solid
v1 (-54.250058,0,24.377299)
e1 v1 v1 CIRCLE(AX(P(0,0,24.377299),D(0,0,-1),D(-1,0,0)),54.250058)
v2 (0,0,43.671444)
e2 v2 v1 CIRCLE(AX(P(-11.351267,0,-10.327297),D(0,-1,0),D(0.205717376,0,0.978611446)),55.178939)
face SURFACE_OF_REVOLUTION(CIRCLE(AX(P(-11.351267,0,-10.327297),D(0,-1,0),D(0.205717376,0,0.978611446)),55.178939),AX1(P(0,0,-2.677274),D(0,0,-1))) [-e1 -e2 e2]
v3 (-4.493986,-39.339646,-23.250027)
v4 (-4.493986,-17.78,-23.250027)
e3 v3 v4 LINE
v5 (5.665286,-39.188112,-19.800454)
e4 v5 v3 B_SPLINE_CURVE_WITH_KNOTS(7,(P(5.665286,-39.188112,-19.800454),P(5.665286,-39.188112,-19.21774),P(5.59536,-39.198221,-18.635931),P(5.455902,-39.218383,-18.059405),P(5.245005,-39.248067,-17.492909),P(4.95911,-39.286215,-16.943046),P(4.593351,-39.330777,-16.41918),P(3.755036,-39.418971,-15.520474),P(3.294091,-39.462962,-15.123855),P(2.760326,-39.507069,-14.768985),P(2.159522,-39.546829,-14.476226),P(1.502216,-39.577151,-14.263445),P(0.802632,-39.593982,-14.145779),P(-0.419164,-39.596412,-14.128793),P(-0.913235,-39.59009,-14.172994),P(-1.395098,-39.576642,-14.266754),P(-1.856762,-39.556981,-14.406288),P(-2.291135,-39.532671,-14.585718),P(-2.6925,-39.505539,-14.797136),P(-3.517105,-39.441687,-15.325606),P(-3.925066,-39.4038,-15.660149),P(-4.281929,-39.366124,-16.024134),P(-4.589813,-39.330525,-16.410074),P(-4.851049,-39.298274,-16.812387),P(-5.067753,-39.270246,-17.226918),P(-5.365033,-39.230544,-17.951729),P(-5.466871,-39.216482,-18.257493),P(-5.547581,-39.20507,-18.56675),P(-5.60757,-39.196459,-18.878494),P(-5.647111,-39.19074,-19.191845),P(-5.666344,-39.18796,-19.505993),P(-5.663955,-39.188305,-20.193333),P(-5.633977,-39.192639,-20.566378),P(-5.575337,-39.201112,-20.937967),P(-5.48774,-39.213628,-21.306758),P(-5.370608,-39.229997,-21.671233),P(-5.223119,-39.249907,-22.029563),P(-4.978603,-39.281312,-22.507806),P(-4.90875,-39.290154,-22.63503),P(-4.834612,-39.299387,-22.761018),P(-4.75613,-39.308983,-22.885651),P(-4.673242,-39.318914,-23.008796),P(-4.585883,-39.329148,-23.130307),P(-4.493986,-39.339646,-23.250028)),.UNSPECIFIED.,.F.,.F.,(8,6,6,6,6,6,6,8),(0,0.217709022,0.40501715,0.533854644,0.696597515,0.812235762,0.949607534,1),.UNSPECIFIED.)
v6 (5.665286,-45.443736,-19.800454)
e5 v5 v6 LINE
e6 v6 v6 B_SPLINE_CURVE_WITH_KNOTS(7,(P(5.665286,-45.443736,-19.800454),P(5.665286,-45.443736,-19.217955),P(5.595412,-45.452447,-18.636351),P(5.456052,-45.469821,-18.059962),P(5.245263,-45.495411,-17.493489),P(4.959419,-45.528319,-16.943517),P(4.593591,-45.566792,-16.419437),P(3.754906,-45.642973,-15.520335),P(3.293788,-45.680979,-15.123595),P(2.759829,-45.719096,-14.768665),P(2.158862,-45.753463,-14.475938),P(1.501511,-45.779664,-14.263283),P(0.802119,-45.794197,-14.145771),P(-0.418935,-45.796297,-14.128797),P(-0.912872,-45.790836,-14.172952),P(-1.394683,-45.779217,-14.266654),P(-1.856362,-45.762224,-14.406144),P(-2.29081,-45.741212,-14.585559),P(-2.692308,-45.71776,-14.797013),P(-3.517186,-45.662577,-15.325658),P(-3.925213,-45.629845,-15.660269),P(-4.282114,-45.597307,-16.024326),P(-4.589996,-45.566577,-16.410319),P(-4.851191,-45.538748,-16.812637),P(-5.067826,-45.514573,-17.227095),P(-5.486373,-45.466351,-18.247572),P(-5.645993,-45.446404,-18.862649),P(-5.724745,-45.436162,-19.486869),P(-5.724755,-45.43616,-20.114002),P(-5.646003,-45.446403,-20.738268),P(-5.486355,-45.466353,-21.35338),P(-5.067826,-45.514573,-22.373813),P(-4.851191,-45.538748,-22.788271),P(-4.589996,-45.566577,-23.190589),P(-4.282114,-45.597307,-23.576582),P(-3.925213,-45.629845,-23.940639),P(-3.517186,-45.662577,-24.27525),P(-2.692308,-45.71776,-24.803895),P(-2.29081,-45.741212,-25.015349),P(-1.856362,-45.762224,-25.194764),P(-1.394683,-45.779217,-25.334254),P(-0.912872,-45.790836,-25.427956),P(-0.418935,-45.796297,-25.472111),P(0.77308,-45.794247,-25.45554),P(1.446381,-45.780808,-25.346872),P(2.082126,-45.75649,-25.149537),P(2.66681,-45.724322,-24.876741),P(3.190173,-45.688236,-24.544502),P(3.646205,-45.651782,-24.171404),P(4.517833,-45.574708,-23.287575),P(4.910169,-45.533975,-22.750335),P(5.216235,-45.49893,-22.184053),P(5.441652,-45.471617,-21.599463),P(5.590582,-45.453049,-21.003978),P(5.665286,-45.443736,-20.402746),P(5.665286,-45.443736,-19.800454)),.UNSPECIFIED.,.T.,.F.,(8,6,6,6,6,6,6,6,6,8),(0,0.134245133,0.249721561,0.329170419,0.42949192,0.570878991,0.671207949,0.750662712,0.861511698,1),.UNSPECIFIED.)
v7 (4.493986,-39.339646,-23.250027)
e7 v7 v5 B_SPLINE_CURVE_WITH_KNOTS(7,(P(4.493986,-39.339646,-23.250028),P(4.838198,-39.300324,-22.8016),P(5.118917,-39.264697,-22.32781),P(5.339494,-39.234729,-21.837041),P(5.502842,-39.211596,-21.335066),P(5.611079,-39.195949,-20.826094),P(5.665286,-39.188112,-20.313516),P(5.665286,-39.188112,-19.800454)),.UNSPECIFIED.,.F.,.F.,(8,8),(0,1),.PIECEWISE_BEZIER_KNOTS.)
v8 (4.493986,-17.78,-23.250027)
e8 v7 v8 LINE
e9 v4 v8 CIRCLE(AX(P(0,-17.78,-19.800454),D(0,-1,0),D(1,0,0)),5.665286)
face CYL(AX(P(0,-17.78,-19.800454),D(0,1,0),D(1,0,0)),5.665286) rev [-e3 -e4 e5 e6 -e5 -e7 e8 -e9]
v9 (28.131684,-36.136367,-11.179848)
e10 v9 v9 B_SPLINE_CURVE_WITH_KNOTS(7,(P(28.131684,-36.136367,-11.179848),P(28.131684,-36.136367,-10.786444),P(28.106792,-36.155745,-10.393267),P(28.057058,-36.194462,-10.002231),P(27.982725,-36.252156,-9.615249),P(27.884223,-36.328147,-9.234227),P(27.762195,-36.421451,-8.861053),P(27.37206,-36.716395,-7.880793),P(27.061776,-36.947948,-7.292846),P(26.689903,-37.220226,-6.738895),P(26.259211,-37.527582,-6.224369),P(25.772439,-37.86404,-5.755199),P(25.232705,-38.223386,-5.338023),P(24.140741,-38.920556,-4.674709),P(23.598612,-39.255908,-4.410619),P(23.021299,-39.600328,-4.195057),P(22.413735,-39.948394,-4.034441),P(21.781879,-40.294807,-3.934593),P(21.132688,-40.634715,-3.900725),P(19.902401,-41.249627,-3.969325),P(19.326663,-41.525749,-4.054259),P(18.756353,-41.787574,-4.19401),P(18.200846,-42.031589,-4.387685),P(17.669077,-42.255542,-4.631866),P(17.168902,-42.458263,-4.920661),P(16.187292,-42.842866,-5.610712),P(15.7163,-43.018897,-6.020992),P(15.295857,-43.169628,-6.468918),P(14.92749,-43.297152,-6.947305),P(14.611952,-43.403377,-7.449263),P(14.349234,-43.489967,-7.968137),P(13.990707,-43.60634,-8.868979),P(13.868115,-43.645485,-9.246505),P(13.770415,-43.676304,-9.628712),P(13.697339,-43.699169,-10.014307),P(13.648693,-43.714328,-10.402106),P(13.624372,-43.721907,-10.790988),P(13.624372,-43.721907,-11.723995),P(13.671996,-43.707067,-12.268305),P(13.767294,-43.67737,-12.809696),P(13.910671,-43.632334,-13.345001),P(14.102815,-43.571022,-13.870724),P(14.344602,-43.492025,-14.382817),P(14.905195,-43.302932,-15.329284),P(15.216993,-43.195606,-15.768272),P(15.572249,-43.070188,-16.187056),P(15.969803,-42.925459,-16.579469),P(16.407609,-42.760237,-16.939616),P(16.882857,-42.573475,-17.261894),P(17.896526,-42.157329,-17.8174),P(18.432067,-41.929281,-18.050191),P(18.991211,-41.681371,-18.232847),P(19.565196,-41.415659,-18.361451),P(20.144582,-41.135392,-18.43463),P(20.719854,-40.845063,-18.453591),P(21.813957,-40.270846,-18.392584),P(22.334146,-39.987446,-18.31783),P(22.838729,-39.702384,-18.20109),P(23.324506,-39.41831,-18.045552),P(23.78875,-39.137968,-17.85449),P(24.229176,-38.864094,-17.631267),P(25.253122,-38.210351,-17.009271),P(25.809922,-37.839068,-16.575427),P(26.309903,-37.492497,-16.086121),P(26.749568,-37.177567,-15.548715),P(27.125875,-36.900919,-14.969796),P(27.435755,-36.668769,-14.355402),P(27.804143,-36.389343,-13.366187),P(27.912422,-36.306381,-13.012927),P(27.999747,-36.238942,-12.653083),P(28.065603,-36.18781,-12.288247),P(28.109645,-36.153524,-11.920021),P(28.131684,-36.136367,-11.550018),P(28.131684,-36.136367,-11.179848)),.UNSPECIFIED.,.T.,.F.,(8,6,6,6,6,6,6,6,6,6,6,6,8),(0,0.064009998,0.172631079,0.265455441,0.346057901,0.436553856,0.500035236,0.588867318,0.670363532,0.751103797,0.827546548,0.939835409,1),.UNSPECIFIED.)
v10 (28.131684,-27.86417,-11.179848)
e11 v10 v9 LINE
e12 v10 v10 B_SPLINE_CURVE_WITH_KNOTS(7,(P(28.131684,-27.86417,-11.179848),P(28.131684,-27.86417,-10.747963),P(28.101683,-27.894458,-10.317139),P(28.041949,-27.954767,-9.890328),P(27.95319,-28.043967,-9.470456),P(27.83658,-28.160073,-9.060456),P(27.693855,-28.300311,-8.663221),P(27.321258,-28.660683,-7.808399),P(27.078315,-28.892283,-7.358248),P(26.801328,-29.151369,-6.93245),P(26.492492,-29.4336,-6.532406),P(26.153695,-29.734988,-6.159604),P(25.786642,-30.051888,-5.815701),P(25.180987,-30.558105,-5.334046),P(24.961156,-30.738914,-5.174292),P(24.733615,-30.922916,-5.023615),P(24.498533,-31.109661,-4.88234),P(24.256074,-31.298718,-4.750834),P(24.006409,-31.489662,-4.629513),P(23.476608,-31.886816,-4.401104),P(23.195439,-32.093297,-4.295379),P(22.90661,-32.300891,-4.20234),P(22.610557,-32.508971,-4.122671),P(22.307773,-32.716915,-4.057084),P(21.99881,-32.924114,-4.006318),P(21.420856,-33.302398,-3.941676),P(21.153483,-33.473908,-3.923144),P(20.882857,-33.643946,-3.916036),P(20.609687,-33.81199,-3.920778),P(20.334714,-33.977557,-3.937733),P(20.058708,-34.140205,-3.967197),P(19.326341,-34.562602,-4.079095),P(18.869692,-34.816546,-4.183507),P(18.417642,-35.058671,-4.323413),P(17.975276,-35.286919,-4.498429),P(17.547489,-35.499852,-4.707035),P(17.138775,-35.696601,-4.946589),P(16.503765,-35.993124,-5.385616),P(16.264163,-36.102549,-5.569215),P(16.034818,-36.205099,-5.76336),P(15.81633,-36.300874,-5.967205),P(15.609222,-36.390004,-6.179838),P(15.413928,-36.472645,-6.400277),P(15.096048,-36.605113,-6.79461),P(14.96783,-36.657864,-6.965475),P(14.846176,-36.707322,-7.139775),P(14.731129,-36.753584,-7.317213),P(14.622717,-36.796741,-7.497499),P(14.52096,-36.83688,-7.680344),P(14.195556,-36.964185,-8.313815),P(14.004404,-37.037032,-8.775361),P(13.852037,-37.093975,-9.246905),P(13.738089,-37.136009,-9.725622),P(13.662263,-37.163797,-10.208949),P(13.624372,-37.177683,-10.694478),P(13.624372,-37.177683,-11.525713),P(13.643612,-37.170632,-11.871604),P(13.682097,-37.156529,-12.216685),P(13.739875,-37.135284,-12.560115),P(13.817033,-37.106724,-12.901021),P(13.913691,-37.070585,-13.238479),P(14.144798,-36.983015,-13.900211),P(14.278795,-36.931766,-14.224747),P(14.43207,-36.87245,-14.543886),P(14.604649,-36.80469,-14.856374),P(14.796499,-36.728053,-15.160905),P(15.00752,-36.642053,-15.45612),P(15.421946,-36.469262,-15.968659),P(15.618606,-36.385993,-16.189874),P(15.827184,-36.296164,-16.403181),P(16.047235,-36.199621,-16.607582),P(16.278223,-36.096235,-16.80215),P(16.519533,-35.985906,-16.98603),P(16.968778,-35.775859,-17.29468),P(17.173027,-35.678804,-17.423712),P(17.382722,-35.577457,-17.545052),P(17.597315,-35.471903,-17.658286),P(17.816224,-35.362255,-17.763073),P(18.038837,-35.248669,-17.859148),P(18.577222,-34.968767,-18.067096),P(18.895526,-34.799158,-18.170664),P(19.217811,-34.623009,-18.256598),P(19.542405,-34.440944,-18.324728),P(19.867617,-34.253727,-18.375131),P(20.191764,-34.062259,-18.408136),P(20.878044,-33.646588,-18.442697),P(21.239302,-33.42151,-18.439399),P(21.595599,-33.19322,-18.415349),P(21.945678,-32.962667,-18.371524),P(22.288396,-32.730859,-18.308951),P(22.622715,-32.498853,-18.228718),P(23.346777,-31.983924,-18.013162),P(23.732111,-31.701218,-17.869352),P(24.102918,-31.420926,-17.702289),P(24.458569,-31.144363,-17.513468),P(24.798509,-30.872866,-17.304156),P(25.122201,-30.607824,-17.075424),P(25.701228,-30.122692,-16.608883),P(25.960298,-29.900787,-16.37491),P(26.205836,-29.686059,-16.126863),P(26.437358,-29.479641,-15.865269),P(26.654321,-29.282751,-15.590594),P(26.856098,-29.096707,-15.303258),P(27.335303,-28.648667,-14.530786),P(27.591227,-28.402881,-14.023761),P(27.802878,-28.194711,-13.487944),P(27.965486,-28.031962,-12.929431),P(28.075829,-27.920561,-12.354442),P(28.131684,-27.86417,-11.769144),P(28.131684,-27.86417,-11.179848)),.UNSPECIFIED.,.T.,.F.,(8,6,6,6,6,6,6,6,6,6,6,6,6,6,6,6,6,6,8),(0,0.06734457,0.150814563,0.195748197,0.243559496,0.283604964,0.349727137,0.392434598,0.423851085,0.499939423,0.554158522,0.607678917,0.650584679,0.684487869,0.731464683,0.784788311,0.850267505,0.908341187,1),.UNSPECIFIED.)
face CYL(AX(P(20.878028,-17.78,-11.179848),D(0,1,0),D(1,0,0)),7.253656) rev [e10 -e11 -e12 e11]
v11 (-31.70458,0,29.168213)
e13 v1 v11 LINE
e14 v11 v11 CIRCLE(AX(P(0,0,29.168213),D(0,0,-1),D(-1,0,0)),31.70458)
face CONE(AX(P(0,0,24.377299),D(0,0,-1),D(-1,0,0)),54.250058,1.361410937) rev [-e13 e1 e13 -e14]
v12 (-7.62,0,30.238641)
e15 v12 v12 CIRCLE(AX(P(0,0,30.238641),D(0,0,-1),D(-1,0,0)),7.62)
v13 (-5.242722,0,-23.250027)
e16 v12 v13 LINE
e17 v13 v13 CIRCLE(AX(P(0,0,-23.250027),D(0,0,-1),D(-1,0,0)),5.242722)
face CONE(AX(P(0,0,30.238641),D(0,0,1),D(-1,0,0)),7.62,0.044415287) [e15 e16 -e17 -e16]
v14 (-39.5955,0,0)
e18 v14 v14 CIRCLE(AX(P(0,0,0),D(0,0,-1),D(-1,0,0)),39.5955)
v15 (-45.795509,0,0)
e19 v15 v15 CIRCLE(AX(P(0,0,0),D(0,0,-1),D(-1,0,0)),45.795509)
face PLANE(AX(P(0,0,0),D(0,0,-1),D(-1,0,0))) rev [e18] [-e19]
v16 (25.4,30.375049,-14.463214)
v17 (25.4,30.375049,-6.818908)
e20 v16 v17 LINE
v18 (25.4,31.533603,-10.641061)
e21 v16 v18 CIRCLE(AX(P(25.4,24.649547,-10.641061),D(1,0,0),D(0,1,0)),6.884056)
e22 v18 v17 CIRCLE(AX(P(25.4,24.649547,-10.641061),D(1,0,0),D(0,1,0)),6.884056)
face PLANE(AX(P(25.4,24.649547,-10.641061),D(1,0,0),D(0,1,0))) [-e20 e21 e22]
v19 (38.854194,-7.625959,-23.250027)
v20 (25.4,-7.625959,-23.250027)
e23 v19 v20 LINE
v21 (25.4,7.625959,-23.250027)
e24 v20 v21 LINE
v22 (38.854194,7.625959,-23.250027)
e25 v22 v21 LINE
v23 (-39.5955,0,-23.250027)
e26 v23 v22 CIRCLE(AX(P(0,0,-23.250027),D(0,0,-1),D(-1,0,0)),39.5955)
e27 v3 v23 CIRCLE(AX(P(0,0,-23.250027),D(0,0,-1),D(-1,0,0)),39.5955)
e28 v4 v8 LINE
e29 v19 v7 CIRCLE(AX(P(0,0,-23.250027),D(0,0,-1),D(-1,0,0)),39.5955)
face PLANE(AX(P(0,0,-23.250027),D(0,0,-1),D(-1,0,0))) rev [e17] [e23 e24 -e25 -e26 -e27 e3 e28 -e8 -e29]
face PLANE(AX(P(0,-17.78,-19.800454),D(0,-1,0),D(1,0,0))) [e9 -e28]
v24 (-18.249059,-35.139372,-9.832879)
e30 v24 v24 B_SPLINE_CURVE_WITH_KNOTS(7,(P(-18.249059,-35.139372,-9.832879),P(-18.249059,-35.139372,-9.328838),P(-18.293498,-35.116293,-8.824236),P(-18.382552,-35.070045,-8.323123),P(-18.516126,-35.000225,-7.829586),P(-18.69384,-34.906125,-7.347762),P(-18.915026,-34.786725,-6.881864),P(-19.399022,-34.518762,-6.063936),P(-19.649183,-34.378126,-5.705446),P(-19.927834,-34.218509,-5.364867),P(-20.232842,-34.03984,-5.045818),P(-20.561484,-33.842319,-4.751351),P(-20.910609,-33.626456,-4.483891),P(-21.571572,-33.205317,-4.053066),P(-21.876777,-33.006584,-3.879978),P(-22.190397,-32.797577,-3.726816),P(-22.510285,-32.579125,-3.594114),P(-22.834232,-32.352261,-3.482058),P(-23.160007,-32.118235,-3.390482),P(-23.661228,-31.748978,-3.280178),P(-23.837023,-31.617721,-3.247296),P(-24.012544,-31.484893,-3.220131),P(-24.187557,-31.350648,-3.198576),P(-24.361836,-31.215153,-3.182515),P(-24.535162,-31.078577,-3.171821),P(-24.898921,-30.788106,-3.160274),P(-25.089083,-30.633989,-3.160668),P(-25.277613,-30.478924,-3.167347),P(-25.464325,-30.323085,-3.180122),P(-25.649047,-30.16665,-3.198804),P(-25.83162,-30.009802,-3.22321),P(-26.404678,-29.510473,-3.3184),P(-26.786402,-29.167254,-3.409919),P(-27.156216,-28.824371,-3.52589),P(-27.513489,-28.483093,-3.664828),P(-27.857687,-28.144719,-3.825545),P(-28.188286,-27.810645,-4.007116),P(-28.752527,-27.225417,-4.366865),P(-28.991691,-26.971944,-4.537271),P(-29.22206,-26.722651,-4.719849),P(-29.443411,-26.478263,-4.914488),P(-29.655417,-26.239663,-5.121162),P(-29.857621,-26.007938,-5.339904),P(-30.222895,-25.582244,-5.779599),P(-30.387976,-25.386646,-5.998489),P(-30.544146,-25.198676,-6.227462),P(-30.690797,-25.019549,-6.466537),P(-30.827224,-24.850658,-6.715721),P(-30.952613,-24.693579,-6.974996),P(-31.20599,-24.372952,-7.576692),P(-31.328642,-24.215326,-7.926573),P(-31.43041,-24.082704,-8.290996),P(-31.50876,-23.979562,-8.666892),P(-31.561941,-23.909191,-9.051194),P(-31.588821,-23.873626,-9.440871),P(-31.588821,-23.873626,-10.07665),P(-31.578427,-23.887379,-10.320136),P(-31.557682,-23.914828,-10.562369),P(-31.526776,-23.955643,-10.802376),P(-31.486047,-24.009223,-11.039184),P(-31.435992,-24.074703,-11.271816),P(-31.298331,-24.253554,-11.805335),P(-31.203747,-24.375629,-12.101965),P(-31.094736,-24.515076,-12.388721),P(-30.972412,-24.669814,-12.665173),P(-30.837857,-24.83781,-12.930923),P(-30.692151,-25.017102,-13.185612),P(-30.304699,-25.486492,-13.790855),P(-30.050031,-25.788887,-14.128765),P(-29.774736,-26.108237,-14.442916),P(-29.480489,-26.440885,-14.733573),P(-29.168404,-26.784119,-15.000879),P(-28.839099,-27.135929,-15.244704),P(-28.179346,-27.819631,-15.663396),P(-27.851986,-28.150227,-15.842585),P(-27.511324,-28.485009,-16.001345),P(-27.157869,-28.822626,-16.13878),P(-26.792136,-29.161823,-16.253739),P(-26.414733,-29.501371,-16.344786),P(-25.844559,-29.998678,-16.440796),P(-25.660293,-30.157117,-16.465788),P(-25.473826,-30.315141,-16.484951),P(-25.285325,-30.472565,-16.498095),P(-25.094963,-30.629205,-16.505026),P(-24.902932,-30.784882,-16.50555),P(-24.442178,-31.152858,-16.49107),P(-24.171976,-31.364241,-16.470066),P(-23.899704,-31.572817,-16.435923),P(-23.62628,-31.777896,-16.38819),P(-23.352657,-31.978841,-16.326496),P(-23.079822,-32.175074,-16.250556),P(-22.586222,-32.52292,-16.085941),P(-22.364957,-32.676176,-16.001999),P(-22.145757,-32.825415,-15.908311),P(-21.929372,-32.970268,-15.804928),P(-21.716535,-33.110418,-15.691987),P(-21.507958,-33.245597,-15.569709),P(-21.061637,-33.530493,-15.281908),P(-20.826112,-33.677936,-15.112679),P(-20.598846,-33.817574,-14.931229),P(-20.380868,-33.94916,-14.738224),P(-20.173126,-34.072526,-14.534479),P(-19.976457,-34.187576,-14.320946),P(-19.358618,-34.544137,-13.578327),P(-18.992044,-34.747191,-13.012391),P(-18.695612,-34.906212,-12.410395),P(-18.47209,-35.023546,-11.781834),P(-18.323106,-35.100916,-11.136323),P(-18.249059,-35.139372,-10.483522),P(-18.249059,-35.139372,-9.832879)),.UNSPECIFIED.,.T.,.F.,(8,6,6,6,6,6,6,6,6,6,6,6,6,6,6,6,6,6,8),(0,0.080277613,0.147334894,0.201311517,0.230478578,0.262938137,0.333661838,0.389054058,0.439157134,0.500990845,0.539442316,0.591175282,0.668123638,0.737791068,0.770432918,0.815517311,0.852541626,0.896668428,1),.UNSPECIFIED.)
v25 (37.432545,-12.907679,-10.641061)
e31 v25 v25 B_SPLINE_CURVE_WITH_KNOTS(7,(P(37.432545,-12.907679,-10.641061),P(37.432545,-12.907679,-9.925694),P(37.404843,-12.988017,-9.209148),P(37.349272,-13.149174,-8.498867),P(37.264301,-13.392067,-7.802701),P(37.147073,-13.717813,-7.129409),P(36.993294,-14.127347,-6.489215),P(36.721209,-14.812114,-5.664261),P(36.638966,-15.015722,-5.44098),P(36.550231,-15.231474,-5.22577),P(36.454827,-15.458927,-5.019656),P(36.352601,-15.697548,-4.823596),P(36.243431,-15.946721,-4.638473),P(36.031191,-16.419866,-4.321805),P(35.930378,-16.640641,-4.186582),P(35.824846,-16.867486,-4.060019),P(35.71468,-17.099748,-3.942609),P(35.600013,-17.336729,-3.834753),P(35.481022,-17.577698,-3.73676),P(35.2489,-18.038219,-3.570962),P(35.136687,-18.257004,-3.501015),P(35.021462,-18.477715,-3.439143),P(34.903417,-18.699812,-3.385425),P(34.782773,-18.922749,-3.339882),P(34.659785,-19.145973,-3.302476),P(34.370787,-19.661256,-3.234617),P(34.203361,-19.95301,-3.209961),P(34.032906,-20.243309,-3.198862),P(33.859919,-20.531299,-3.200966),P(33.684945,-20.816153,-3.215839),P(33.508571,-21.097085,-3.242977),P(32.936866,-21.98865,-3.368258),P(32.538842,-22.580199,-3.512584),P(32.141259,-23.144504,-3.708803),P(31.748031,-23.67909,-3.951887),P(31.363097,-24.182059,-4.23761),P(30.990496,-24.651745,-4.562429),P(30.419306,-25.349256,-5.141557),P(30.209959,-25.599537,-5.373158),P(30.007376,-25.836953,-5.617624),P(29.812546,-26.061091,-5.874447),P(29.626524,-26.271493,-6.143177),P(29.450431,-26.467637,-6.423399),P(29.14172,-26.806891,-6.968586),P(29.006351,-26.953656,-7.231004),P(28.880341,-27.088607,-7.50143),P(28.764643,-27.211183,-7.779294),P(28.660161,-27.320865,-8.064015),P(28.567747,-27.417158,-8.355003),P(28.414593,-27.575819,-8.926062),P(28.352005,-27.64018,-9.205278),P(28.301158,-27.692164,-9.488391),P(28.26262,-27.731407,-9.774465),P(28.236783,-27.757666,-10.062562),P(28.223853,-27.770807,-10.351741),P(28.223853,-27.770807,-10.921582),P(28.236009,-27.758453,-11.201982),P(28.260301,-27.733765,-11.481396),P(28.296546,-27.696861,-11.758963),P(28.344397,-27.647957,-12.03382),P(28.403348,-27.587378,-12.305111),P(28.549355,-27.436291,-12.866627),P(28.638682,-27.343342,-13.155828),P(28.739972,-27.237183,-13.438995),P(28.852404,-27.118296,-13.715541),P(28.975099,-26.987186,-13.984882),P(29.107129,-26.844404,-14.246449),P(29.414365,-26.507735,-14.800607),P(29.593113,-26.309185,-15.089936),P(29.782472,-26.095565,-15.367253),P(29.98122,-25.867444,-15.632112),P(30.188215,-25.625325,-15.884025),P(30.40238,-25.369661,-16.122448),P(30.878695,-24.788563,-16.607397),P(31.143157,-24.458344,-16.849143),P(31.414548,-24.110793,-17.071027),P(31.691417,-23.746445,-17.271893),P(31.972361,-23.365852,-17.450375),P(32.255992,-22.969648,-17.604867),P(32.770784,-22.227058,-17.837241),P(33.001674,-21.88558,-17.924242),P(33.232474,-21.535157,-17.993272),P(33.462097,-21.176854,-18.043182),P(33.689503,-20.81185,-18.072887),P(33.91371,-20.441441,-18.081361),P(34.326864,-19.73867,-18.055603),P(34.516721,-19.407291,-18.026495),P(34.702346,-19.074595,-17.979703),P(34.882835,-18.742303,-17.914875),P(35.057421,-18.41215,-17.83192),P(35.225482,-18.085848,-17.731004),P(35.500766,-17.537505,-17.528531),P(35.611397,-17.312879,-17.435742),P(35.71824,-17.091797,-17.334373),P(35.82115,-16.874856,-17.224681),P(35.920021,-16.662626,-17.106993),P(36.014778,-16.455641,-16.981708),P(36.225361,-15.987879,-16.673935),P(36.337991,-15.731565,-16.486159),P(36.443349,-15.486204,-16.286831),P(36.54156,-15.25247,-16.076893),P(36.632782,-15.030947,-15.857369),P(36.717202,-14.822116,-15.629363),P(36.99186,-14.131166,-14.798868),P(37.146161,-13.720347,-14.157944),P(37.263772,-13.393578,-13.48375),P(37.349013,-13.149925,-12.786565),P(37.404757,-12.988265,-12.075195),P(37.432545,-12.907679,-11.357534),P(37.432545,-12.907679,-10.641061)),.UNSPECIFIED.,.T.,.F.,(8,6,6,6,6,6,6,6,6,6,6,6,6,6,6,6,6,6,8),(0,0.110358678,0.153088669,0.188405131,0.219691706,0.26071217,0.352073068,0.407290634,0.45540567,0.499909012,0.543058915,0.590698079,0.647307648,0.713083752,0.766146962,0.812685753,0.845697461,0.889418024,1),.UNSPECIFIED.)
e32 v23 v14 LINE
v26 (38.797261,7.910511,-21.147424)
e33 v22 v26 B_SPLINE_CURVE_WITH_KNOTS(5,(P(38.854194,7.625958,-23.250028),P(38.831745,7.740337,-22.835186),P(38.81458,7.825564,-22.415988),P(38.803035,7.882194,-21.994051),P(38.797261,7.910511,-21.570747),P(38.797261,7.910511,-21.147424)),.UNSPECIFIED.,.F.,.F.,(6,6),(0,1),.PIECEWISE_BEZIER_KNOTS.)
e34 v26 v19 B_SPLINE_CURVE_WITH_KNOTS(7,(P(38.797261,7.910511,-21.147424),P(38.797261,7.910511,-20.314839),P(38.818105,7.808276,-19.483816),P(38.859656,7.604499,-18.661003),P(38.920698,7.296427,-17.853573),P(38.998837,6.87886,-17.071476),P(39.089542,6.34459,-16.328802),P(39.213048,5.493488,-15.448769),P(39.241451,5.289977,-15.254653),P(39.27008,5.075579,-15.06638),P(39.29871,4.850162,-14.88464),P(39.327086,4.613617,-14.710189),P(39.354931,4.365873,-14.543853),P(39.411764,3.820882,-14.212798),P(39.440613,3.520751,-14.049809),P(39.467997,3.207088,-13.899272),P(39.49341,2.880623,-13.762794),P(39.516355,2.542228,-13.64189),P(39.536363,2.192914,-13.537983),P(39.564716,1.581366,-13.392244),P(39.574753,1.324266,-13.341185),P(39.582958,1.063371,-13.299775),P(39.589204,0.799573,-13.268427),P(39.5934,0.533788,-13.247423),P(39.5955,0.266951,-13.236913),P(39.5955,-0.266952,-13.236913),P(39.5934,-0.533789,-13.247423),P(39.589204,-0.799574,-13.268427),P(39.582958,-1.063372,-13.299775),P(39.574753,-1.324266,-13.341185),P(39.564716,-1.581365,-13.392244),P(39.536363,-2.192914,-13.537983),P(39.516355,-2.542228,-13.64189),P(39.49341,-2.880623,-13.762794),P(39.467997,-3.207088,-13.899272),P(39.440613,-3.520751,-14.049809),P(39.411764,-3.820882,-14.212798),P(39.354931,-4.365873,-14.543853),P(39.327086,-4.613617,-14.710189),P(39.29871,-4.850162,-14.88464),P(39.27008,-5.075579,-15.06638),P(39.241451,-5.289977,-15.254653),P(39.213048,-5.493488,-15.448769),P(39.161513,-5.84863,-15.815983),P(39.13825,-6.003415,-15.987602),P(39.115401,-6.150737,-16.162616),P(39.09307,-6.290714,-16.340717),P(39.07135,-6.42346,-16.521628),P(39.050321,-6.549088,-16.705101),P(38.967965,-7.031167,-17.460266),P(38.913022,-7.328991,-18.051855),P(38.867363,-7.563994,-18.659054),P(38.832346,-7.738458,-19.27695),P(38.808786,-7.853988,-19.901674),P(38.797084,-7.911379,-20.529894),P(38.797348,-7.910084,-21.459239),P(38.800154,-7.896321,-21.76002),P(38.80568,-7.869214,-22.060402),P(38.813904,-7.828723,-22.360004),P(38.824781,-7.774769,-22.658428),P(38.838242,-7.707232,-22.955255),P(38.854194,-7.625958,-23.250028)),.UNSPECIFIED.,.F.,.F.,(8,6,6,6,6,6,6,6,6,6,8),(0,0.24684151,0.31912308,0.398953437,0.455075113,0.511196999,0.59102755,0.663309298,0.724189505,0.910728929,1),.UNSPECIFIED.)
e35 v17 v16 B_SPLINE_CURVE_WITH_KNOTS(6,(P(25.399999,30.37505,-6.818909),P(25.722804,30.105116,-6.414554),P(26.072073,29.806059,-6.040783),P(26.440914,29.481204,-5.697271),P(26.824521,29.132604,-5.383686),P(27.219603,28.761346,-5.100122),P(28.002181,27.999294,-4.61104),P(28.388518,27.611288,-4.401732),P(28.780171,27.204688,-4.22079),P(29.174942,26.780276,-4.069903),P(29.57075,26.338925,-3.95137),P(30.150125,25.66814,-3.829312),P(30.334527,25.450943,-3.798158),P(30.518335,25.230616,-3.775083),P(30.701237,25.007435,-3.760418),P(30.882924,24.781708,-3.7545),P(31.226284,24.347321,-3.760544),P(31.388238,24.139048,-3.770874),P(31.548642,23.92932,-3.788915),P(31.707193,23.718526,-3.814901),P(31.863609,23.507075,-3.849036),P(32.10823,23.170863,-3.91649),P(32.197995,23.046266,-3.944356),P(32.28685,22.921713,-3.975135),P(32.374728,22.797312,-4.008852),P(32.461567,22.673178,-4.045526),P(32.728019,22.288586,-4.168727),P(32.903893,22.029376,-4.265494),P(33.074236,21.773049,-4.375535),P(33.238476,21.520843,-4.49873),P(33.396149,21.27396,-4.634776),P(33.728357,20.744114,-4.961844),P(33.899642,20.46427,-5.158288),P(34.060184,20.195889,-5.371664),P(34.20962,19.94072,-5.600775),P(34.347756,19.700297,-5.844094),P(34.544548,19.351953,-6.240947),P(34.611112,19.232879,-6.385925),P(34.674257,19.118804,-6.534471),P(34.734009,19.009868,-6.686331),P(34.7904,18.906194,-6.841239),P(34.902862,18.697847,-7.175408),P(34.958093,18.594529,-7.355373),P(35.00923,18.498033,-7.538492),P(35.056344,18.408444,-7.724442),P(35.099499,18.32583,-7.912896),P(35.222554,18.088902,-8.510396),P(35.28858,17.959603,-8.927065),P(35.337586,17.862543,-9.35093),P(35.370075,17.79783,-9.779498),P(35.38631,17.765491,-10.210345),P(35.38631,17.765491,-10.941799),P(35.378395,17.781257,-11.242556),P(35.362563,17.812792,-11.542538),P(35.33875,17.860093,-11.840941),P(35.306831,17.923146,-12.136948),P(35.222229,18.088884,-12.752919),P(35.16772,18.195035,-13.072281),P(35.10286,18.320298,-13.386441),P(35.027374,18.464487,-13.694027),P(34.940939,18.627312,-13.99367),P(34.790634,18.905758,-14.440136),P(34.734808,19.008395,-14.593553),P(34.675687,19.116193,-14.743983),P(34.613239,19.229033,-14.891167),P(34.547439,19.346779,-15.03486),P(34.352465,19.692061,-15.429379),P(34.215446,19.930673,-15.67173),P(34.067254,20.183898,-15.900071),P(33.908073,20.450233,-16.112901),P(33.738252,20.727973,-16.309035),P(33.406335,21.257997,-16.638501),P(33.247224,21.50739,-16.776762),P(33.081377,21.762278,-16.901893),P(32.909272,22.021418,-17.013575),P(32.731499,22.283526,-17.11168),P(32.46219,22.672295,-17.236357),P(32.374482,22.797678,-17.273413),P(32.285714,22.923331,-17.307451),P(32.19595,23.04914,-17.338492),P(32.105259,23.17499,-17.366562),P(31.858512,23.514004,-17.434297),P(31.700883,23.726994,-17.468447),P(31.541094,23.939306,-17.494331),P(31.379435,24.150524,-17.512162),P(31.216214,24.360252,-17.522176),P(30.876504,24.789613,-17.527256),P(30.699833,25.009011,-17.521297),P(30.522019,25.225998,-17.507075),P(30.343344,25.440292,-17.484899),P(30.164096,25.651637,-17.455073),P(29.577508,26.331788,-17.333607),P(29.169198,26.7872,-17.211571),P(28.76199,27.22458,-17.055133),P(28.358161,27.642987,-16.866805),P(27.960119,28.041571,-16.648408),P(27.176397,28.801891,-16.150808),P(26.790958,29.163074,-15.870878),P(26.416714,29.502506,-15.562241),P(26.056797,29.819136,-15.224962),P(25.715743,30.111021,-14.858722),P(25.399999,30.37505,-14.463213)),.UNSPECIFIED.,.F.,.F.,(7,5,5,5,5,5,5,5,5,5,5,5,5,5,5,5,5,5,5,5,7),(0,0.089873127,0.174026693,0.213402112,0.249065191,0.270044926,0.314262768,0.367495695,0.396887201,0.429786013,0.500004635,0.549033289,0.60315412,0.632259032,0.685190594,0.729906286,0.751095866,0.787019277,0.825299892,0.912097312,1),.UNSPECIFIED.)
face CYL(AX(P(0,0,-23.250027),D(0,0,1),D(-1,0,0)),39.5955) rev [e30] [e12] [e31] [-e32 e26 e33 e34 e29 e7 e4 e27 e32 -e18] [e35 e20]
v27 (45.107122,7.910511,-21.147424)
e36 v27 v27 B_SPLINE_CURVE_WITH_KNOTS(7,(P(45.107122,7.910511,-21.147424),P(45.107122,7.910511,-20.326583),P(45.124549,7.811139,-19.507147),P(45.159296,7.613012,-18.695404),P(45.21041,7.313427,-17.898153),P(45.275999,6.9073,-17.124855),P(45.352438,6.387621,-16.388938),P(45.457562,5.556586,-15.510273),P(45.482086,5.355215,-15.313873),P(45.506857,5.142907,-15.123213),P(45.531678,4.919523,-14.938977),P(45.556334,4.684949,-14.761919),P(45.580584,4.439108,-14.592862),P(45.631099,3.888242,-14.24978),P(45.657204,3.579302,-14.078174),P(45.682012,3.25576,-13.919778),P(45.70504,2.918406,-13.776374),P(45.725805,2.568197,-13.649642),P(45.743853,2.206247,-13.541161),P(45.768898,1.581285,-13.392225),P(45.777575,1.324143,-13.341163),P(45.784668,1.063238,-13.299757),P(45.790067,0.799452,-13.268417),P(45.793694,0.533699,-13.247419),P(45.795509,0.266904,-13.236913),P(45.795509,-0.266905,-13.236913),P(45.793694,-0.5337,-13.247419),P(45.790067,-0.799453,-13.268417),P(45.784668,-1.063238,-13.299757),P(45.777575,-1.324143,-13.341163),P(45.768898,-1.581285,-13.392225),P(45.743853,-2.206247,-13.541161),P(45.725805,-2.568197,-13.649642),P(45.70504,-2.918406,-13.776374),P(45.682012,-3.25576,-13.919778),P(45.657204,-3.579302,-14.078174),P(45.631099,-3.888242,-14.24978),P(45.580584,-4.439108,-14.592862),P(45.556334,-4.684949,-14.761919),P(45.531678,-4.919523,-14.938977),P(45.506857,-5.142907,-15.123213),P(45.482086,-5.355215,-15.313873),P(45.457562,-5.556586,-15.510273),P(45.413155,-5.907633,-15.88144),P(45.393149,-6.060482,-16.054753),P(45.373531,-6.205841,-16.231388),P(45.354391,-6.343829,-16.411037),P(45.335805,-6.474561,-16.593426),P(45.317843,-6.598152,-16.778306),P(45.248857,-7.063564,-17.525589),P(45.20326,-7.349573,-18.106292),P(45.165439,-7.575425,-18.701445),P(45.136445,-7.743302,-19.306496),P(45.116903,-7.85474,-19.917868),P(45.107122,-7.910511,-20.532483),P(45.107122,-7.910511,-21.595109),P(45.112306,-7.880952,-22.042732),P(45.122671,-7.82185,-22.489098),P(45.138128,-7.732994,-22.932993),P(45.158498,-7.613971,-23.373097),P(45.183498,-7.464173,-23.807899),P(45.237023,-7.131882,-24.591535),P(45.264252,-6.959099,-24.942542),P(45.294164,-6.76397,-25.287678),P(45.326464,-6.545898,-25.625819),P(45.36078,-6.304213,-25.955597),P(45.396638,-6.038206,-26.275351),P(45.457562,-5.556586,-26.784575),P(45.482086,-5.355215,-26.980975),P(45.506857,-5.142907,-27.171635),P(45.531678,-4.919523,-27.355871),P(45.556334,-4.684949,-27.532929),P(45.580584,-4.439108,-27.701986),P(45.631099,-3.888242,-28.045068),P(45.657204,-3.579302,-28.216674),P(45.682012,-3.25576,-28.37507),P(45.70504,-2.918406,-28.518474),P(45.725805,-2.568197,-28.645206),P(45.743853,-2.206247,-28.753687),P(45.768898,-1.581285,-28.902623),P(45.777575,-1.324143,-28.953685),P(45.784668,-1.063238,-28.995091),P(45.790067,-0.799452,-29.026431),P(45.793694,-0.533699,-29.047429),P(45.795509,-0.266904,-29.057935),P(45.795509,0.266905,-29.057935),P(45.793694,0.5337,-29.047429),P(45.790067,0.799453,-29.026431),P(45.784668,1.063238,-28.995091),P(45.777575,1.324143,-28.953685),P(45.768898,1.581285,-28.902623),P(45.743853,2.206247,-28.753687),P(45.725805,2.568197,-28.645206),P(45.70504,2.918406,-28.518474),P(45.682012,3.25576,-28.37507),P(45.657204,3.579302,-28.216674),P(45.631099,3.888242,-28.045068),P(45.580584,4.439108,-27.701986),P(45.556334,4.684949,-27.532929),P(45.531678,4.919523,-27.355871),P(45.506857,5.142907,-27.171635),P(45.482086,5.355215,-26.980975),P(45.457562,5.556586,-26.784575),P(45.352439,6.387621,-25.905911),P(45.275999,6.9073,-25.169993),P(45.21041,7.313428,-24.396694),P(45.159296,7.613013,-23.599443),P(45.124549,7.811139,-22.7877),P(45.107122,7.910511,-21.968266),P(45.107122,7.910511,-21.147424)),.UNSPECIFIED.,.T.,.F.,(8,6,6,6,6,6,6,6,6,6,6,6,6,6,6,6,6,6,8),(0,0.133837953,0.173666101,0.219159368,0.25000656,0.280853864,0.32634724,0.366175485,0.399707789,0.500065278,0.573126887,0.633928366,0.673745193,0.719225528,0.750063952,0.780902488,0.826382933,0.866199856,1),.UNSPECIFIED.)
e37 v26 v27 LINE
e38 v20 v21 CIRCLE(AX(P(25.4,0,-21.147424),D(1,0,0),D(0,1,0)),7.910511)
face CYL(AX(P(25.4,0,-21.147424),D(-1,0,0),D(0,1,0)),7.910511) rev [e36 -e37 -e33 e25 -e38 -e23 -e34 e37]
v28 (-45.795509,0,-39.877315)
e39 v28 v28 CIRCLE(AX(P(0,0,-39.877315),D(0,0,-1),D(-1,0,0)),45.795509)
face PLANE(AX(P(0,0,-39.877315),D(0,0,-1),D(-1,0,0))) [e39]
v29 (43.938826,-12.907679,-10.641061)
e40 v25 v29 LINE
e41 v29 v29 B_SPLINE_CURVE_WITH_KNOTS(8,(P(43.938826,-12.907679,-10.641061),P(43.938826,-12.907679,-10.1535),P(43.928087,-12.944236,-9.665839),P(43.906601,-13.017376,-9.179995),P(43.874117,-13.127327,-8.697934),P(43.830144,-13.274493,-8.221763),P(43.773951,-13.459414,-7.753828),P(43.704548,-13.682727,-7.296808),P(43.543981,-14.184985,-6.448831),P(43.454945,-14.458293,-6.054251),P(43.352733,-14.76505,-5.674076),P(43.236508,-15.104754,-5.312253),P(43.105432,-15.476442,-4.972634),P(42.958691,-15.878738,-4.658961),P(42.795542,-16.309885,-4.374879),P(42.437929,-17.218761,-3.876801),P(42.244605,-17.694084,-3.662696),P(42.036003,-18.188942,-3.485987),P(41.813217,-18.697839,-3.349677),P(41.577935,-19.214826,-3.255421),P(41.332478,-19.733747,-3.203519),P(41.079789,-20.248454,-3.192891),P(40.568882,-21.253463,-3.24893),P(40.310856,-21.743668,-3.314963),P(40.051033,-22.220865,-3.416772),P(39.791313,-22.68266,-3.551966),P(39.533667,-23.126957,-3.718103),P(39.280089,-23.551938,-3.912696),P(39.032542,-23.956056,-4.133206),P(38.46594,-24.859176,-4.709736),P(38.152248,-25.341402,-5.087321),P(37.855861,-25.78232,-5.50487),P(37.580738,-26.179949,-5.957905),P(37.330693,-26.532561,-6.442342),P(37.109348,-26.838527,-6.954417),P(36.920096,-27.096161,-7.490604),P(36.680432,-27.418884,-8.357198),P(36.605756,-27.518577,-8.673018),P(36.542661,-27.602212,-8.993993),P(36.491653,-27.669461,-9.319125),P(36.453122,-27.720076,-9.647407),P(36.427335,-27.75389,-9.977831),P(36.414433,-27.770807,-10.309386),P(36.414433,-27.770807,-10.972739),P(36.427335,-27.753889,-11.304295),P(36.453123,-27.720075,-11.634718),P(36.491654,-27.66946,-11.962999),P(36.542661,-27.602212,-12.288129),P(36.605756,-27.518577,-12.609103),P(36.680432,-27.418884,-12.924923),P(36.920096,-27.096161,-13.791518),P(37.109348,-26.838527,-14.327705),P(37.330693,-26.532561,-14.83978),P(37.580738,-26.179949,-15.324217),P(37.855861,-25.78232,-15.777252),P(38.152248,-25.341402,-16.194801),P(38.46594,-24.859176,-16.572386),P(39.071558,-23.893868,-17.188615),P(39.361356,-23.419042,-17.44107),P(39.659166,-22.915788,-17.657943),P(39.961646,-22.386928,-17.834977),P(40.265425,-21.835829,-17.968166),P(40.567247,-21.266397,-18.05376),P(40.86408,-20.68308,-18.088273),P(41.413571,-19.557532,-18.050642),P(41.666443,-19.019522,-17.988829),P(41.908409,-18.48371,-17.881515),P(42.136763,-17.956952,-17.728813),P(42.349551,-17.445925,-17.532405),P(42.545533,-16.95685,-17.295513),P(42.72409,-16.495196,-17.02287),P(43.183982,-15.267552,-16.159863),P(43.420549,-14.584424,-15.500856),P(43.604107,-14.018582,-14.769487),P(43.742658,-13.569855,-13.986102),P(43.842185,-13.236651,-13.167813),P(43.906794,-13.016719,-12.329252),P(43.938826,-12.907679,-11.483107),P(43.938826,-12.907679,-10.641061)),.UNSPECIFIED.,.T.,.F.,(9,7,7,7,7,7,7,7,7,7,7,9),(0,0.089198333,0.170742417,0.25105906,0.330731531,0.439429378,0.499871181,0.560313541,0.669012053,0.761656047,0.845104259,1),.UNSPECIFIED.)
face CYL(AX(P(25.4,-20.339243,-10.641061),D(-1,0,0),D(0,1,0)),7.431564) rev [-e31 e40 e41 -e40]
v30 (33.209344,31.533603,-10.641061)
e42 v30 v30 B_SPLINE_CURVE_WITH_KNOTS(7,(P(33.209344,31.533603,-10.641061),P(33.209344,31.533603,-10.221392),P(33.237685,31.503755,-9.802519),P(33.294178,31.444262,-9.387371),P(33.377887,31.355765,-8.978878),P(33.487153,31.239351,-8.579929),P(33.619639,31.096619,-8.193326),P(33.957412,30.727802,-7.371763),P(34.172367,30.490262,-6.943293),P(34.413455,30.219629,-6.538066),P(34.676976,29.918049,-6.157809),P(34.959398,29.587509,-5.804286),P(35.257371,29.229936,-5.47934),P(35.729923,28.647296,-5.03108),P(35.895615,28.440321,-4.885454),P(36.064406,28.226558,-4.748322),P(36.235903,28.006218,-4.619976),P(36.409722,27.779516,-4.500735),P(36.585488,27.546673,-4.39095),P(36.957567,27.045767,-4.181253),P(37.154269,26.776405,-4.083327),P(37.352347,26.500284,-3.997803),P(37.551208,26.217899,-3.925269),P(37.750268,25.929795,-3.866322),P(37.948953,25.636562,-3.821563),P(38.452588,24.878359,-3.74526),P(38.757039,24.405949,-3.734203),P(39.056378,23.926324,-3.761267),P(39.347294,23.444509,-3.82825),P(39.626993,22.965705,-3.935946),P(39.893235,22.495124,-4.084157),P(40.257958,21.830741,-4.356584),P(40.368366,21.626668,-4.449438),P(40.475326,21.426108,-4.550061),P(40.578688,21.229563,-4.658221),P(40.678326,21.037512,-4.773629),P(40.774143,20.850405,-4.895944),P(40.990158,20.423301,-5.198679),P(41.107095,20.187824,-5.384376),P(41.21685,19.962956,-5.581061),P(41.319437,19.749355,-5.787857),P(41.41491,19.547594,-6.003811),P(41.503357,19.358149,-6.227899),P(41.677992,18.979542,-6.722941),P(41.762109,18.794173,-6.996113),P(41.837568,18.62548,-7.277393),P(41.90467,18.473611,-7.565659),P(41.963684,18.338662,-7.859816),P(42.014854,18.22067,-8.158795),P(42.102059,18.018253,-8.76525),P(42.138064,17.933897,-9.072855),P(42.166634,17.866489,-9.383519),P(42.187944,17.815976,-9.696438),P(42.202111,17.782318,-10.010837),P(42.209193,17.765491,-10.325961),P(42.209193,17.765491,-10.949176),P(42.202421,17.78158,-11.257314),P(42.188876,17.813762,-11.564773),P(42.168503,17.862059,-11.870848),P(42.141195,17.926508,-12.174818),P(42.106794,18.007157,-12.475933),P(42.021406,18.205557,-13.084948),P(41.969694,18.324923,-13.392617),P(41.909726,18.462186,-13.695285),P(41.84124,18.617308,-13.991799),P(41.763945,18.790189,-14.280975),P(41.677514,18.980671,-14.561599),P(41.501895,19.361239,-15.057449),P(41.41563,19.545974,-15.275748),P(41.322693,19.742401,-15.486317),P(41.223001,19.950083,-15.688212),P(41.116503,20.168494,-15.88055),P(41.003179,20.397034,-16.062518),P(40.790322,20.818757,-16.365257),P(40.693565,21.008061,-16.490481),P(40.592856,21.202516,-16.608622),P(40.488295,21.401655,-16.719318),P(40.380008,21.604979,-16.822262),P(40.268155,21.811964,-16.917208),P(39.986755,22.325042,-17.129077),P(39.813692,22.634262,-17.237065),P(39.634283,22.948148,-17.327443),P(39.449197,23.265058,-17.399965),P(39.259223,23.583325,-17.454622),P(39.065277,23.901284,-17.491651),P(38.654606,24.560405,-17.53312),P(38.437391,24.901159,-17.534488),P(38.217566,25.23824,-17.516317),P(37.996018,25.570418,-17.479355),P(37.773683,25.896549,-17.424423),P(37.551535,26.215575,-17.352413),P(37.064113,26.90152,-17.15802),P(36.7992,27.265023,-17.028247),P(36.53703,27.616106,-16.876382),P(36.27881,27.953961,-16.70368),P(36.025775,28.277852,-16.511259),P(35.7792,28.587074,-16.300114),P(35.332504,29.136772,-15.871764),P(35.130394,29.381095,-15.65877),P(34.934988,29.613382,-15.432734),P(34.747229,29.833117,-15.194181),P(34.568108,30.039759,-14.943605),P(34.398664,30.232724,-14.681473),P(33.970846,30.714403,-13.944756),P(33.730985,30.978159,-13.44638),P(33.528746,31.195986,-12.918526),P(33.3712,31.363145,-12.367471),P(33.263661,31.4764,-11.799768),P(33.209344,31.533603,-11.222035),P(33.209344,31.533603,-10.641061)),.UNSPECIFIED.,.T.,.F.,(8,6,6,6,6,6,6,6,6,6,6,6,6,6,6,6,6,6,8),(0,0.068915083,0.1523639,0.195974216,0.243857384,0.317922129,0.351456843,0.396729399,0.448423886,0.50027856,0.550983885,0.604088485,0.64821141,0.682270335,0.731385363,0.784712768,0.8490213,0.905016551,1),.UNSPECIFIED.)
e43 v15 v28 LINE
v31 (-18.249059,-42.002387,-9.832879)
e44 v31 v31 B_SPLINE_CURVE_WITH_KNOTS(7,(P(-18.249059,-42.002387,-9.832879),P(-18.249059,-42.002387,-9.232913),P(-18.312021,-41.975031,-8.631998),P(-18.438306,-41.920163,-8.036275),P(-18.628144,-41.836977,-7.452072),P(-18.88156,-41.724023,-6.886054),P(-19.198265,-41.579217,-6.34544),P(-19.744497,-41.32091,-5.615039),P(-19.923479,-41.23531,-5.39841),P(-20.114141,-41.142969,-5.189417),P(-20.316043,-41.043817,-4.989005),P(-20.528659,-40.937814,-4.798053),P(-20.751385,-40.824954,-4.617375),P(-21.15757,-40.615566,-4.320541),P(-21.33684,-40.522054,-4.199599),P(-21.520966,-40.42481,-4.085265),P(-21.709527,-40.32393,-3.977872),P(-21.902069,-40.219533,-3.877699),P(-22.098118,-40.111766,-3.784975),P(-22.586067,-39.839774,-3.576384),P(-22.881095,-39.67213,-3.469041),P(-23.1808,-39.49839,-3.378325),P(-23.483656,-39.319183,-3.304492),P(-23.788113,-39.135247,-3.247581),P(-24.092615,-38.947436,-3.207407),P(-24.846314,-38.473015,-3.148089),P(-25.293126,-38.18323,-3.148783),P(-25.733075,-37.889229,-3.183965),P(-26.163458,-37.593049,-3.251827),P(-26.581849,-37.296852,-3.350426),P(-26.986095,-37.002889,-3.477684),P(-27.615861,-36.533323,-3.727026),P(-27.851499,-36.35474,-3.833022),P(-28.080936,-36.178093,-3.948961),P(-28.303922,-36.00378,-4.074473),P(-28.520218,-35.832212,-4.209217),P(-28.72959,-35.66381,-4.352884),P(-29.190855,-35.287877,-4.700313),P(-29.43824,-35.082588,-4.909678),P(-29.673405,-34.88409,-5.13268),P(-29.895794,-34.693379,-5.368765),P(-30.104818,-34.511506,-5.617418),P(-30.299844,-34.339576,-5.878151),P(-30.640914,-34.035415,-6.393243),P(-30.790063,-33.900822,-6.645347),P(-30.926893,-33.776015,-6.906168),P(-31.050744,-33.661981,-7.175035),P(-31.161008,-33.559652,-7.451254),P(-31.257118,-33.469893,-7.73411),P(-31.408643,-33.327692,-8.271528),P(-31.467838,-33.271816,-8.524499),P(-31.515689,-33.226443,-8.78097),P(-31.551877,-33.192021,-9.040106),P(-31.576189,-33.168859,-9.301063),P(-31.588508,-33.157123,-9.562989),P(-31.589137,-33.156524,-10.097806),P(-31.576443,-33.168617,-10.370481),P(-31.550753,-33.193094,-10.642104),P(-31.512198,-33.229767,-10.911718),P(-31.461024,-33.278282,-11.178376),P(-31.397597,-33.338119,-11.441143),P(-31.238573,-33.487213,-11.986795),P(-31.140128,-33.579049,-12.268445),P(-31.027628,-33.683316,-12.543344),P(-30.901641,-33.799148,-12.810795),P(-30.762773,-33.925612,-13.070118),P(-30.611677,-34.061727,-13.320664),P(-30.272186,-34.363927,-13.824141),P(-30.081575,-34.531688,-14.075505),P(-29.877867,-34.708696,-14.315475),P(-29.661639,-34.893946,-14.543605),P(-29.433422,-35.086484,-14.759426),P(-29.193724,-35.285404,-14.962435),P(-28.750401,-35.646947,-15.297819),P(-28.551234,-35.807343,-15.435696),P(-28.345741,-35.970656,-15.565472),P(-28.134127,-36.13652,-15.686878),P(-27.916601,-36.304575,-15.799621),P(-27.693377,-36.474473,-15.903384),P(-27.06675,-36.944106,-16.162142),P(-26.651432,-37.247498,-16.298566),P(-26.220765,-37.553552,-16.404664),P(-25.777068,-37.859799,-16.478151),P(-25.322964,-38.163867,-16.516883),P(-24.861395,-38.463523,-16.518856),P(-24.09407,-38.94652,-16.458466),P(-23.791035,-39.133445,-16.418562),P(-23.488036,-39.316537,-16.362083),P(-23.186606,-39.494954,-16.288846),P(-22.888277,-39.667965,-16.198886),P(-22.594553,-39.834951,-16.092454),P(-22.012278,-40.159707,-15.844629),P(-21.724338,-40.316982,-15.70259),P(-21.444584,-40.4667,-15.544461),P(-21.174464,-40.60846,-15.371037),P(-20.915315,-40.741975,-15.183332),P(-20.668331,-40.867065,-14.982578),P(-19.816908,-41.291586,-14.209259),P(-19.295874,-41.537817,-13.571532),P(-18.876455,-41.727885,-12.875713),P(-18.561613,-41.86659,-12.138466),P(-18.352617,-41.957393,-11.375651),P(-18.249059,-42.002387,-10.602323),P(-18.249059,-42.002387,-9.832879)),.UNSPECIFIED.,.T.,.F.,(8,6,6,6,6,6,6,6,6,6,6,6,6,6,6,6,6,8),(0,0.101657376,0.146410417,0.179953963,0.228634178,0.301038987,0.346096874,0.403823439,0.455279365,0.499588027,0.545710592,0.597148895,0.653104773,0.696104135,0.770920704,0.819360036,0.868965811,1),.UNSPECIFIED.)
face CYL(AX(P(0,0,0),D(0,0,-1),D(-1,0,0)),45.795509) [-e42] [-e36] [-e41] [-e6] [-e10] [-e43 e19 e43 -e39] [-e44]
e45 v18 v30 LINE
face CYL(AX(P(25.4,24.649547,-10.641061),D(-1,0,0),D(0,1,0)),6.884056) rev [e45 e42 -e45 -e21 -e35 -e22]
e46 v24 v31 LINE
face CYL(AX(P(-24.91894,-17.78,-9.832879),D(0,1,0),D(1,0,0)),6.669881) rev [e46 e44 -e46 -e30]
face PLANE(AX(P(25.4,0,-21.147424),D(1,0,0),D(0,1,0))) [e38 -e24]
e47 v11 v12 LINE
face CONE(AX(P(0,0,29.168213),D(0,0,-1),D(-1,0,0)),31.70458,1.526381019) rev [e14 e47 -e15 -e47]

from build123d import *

# Parameters (mm, degrees)
F3_R     = 5.665286
F3_R_2   = 7.253656
F3_R_3   = 6.669881
F4_DEPTH = 127
F6_R     = 7.910511
F6_R_2   = 7.431564
F6_R_3   = 6.884056
F7_DEPTH = 25.4


with BuildPart() as f1:
    # F0 (on Front) → F1 (revolve)
    with BuildSketch(Plane.XZ):
        with BuildLine():
            Line((-45.795509, 0), (-45.795509, -23.250027))
            Line((-45.795509, -23.250027), (-45.795509, -39.877315))
            Line((-45.795509, -39.877315), (0, -39.877315))
            Line((0, -39.877315), (0, -23.250027))
            Line((0, -23.250027), (0, 43.671444))
            ThreePointArc((0, 43.671444), (-29.841198, 41.661526), (-54.250058, 24.377299))
            Line((-54.250058, 24.377299), (-31.70458, 29.168213))
            Line((-31.70458, 29.168213), (-7.62, 30.238641))
            Line((-7.62, 30.238641), (-5.242722, -23.250027))
            Line((-5.242722, -23.250027), (-39.5955, -23.250027))
            Line((-39.5955, -23.250027), (-39.5955, 0))
            Line((-39.5955, 0), (-45.795509, 0))
        make_face()
    revolve(axis=Axis((0, 0, -2.677274), (0, 0, -1)))

    # F3 (on offset) → F4 (cut)
    with BuildSketch(Plane.XZ.offset(17.78)):
        with Locations((0, -19.800454)):
            Circle(F3_R)
        with Locations((20.878028, -11.179848)):
            Circle(F3_R_2)
        with Locations((-24.91894, -9.832879)):
            Circle(F3_R_3)
    extrude(amount=F4_DEPTH, mode=Mode.SUBTRACT)

    # F6 (on offset) → F7 (cut)
    with BuildSketch(Plane.YZ.offset(25.4)):
        with Locations((0, -21.147424)):
            Circle(F6_R)
        with Locations((-20.339243, -10.641061)):
            Circle(F6_R_2)
        with Locations((24.649547, -10.641061)):
            Circle(F6_R_3)
    extrude(amount=F7_DEPTH, mode=Mode.SUBTRACT)


solid = f1.part
